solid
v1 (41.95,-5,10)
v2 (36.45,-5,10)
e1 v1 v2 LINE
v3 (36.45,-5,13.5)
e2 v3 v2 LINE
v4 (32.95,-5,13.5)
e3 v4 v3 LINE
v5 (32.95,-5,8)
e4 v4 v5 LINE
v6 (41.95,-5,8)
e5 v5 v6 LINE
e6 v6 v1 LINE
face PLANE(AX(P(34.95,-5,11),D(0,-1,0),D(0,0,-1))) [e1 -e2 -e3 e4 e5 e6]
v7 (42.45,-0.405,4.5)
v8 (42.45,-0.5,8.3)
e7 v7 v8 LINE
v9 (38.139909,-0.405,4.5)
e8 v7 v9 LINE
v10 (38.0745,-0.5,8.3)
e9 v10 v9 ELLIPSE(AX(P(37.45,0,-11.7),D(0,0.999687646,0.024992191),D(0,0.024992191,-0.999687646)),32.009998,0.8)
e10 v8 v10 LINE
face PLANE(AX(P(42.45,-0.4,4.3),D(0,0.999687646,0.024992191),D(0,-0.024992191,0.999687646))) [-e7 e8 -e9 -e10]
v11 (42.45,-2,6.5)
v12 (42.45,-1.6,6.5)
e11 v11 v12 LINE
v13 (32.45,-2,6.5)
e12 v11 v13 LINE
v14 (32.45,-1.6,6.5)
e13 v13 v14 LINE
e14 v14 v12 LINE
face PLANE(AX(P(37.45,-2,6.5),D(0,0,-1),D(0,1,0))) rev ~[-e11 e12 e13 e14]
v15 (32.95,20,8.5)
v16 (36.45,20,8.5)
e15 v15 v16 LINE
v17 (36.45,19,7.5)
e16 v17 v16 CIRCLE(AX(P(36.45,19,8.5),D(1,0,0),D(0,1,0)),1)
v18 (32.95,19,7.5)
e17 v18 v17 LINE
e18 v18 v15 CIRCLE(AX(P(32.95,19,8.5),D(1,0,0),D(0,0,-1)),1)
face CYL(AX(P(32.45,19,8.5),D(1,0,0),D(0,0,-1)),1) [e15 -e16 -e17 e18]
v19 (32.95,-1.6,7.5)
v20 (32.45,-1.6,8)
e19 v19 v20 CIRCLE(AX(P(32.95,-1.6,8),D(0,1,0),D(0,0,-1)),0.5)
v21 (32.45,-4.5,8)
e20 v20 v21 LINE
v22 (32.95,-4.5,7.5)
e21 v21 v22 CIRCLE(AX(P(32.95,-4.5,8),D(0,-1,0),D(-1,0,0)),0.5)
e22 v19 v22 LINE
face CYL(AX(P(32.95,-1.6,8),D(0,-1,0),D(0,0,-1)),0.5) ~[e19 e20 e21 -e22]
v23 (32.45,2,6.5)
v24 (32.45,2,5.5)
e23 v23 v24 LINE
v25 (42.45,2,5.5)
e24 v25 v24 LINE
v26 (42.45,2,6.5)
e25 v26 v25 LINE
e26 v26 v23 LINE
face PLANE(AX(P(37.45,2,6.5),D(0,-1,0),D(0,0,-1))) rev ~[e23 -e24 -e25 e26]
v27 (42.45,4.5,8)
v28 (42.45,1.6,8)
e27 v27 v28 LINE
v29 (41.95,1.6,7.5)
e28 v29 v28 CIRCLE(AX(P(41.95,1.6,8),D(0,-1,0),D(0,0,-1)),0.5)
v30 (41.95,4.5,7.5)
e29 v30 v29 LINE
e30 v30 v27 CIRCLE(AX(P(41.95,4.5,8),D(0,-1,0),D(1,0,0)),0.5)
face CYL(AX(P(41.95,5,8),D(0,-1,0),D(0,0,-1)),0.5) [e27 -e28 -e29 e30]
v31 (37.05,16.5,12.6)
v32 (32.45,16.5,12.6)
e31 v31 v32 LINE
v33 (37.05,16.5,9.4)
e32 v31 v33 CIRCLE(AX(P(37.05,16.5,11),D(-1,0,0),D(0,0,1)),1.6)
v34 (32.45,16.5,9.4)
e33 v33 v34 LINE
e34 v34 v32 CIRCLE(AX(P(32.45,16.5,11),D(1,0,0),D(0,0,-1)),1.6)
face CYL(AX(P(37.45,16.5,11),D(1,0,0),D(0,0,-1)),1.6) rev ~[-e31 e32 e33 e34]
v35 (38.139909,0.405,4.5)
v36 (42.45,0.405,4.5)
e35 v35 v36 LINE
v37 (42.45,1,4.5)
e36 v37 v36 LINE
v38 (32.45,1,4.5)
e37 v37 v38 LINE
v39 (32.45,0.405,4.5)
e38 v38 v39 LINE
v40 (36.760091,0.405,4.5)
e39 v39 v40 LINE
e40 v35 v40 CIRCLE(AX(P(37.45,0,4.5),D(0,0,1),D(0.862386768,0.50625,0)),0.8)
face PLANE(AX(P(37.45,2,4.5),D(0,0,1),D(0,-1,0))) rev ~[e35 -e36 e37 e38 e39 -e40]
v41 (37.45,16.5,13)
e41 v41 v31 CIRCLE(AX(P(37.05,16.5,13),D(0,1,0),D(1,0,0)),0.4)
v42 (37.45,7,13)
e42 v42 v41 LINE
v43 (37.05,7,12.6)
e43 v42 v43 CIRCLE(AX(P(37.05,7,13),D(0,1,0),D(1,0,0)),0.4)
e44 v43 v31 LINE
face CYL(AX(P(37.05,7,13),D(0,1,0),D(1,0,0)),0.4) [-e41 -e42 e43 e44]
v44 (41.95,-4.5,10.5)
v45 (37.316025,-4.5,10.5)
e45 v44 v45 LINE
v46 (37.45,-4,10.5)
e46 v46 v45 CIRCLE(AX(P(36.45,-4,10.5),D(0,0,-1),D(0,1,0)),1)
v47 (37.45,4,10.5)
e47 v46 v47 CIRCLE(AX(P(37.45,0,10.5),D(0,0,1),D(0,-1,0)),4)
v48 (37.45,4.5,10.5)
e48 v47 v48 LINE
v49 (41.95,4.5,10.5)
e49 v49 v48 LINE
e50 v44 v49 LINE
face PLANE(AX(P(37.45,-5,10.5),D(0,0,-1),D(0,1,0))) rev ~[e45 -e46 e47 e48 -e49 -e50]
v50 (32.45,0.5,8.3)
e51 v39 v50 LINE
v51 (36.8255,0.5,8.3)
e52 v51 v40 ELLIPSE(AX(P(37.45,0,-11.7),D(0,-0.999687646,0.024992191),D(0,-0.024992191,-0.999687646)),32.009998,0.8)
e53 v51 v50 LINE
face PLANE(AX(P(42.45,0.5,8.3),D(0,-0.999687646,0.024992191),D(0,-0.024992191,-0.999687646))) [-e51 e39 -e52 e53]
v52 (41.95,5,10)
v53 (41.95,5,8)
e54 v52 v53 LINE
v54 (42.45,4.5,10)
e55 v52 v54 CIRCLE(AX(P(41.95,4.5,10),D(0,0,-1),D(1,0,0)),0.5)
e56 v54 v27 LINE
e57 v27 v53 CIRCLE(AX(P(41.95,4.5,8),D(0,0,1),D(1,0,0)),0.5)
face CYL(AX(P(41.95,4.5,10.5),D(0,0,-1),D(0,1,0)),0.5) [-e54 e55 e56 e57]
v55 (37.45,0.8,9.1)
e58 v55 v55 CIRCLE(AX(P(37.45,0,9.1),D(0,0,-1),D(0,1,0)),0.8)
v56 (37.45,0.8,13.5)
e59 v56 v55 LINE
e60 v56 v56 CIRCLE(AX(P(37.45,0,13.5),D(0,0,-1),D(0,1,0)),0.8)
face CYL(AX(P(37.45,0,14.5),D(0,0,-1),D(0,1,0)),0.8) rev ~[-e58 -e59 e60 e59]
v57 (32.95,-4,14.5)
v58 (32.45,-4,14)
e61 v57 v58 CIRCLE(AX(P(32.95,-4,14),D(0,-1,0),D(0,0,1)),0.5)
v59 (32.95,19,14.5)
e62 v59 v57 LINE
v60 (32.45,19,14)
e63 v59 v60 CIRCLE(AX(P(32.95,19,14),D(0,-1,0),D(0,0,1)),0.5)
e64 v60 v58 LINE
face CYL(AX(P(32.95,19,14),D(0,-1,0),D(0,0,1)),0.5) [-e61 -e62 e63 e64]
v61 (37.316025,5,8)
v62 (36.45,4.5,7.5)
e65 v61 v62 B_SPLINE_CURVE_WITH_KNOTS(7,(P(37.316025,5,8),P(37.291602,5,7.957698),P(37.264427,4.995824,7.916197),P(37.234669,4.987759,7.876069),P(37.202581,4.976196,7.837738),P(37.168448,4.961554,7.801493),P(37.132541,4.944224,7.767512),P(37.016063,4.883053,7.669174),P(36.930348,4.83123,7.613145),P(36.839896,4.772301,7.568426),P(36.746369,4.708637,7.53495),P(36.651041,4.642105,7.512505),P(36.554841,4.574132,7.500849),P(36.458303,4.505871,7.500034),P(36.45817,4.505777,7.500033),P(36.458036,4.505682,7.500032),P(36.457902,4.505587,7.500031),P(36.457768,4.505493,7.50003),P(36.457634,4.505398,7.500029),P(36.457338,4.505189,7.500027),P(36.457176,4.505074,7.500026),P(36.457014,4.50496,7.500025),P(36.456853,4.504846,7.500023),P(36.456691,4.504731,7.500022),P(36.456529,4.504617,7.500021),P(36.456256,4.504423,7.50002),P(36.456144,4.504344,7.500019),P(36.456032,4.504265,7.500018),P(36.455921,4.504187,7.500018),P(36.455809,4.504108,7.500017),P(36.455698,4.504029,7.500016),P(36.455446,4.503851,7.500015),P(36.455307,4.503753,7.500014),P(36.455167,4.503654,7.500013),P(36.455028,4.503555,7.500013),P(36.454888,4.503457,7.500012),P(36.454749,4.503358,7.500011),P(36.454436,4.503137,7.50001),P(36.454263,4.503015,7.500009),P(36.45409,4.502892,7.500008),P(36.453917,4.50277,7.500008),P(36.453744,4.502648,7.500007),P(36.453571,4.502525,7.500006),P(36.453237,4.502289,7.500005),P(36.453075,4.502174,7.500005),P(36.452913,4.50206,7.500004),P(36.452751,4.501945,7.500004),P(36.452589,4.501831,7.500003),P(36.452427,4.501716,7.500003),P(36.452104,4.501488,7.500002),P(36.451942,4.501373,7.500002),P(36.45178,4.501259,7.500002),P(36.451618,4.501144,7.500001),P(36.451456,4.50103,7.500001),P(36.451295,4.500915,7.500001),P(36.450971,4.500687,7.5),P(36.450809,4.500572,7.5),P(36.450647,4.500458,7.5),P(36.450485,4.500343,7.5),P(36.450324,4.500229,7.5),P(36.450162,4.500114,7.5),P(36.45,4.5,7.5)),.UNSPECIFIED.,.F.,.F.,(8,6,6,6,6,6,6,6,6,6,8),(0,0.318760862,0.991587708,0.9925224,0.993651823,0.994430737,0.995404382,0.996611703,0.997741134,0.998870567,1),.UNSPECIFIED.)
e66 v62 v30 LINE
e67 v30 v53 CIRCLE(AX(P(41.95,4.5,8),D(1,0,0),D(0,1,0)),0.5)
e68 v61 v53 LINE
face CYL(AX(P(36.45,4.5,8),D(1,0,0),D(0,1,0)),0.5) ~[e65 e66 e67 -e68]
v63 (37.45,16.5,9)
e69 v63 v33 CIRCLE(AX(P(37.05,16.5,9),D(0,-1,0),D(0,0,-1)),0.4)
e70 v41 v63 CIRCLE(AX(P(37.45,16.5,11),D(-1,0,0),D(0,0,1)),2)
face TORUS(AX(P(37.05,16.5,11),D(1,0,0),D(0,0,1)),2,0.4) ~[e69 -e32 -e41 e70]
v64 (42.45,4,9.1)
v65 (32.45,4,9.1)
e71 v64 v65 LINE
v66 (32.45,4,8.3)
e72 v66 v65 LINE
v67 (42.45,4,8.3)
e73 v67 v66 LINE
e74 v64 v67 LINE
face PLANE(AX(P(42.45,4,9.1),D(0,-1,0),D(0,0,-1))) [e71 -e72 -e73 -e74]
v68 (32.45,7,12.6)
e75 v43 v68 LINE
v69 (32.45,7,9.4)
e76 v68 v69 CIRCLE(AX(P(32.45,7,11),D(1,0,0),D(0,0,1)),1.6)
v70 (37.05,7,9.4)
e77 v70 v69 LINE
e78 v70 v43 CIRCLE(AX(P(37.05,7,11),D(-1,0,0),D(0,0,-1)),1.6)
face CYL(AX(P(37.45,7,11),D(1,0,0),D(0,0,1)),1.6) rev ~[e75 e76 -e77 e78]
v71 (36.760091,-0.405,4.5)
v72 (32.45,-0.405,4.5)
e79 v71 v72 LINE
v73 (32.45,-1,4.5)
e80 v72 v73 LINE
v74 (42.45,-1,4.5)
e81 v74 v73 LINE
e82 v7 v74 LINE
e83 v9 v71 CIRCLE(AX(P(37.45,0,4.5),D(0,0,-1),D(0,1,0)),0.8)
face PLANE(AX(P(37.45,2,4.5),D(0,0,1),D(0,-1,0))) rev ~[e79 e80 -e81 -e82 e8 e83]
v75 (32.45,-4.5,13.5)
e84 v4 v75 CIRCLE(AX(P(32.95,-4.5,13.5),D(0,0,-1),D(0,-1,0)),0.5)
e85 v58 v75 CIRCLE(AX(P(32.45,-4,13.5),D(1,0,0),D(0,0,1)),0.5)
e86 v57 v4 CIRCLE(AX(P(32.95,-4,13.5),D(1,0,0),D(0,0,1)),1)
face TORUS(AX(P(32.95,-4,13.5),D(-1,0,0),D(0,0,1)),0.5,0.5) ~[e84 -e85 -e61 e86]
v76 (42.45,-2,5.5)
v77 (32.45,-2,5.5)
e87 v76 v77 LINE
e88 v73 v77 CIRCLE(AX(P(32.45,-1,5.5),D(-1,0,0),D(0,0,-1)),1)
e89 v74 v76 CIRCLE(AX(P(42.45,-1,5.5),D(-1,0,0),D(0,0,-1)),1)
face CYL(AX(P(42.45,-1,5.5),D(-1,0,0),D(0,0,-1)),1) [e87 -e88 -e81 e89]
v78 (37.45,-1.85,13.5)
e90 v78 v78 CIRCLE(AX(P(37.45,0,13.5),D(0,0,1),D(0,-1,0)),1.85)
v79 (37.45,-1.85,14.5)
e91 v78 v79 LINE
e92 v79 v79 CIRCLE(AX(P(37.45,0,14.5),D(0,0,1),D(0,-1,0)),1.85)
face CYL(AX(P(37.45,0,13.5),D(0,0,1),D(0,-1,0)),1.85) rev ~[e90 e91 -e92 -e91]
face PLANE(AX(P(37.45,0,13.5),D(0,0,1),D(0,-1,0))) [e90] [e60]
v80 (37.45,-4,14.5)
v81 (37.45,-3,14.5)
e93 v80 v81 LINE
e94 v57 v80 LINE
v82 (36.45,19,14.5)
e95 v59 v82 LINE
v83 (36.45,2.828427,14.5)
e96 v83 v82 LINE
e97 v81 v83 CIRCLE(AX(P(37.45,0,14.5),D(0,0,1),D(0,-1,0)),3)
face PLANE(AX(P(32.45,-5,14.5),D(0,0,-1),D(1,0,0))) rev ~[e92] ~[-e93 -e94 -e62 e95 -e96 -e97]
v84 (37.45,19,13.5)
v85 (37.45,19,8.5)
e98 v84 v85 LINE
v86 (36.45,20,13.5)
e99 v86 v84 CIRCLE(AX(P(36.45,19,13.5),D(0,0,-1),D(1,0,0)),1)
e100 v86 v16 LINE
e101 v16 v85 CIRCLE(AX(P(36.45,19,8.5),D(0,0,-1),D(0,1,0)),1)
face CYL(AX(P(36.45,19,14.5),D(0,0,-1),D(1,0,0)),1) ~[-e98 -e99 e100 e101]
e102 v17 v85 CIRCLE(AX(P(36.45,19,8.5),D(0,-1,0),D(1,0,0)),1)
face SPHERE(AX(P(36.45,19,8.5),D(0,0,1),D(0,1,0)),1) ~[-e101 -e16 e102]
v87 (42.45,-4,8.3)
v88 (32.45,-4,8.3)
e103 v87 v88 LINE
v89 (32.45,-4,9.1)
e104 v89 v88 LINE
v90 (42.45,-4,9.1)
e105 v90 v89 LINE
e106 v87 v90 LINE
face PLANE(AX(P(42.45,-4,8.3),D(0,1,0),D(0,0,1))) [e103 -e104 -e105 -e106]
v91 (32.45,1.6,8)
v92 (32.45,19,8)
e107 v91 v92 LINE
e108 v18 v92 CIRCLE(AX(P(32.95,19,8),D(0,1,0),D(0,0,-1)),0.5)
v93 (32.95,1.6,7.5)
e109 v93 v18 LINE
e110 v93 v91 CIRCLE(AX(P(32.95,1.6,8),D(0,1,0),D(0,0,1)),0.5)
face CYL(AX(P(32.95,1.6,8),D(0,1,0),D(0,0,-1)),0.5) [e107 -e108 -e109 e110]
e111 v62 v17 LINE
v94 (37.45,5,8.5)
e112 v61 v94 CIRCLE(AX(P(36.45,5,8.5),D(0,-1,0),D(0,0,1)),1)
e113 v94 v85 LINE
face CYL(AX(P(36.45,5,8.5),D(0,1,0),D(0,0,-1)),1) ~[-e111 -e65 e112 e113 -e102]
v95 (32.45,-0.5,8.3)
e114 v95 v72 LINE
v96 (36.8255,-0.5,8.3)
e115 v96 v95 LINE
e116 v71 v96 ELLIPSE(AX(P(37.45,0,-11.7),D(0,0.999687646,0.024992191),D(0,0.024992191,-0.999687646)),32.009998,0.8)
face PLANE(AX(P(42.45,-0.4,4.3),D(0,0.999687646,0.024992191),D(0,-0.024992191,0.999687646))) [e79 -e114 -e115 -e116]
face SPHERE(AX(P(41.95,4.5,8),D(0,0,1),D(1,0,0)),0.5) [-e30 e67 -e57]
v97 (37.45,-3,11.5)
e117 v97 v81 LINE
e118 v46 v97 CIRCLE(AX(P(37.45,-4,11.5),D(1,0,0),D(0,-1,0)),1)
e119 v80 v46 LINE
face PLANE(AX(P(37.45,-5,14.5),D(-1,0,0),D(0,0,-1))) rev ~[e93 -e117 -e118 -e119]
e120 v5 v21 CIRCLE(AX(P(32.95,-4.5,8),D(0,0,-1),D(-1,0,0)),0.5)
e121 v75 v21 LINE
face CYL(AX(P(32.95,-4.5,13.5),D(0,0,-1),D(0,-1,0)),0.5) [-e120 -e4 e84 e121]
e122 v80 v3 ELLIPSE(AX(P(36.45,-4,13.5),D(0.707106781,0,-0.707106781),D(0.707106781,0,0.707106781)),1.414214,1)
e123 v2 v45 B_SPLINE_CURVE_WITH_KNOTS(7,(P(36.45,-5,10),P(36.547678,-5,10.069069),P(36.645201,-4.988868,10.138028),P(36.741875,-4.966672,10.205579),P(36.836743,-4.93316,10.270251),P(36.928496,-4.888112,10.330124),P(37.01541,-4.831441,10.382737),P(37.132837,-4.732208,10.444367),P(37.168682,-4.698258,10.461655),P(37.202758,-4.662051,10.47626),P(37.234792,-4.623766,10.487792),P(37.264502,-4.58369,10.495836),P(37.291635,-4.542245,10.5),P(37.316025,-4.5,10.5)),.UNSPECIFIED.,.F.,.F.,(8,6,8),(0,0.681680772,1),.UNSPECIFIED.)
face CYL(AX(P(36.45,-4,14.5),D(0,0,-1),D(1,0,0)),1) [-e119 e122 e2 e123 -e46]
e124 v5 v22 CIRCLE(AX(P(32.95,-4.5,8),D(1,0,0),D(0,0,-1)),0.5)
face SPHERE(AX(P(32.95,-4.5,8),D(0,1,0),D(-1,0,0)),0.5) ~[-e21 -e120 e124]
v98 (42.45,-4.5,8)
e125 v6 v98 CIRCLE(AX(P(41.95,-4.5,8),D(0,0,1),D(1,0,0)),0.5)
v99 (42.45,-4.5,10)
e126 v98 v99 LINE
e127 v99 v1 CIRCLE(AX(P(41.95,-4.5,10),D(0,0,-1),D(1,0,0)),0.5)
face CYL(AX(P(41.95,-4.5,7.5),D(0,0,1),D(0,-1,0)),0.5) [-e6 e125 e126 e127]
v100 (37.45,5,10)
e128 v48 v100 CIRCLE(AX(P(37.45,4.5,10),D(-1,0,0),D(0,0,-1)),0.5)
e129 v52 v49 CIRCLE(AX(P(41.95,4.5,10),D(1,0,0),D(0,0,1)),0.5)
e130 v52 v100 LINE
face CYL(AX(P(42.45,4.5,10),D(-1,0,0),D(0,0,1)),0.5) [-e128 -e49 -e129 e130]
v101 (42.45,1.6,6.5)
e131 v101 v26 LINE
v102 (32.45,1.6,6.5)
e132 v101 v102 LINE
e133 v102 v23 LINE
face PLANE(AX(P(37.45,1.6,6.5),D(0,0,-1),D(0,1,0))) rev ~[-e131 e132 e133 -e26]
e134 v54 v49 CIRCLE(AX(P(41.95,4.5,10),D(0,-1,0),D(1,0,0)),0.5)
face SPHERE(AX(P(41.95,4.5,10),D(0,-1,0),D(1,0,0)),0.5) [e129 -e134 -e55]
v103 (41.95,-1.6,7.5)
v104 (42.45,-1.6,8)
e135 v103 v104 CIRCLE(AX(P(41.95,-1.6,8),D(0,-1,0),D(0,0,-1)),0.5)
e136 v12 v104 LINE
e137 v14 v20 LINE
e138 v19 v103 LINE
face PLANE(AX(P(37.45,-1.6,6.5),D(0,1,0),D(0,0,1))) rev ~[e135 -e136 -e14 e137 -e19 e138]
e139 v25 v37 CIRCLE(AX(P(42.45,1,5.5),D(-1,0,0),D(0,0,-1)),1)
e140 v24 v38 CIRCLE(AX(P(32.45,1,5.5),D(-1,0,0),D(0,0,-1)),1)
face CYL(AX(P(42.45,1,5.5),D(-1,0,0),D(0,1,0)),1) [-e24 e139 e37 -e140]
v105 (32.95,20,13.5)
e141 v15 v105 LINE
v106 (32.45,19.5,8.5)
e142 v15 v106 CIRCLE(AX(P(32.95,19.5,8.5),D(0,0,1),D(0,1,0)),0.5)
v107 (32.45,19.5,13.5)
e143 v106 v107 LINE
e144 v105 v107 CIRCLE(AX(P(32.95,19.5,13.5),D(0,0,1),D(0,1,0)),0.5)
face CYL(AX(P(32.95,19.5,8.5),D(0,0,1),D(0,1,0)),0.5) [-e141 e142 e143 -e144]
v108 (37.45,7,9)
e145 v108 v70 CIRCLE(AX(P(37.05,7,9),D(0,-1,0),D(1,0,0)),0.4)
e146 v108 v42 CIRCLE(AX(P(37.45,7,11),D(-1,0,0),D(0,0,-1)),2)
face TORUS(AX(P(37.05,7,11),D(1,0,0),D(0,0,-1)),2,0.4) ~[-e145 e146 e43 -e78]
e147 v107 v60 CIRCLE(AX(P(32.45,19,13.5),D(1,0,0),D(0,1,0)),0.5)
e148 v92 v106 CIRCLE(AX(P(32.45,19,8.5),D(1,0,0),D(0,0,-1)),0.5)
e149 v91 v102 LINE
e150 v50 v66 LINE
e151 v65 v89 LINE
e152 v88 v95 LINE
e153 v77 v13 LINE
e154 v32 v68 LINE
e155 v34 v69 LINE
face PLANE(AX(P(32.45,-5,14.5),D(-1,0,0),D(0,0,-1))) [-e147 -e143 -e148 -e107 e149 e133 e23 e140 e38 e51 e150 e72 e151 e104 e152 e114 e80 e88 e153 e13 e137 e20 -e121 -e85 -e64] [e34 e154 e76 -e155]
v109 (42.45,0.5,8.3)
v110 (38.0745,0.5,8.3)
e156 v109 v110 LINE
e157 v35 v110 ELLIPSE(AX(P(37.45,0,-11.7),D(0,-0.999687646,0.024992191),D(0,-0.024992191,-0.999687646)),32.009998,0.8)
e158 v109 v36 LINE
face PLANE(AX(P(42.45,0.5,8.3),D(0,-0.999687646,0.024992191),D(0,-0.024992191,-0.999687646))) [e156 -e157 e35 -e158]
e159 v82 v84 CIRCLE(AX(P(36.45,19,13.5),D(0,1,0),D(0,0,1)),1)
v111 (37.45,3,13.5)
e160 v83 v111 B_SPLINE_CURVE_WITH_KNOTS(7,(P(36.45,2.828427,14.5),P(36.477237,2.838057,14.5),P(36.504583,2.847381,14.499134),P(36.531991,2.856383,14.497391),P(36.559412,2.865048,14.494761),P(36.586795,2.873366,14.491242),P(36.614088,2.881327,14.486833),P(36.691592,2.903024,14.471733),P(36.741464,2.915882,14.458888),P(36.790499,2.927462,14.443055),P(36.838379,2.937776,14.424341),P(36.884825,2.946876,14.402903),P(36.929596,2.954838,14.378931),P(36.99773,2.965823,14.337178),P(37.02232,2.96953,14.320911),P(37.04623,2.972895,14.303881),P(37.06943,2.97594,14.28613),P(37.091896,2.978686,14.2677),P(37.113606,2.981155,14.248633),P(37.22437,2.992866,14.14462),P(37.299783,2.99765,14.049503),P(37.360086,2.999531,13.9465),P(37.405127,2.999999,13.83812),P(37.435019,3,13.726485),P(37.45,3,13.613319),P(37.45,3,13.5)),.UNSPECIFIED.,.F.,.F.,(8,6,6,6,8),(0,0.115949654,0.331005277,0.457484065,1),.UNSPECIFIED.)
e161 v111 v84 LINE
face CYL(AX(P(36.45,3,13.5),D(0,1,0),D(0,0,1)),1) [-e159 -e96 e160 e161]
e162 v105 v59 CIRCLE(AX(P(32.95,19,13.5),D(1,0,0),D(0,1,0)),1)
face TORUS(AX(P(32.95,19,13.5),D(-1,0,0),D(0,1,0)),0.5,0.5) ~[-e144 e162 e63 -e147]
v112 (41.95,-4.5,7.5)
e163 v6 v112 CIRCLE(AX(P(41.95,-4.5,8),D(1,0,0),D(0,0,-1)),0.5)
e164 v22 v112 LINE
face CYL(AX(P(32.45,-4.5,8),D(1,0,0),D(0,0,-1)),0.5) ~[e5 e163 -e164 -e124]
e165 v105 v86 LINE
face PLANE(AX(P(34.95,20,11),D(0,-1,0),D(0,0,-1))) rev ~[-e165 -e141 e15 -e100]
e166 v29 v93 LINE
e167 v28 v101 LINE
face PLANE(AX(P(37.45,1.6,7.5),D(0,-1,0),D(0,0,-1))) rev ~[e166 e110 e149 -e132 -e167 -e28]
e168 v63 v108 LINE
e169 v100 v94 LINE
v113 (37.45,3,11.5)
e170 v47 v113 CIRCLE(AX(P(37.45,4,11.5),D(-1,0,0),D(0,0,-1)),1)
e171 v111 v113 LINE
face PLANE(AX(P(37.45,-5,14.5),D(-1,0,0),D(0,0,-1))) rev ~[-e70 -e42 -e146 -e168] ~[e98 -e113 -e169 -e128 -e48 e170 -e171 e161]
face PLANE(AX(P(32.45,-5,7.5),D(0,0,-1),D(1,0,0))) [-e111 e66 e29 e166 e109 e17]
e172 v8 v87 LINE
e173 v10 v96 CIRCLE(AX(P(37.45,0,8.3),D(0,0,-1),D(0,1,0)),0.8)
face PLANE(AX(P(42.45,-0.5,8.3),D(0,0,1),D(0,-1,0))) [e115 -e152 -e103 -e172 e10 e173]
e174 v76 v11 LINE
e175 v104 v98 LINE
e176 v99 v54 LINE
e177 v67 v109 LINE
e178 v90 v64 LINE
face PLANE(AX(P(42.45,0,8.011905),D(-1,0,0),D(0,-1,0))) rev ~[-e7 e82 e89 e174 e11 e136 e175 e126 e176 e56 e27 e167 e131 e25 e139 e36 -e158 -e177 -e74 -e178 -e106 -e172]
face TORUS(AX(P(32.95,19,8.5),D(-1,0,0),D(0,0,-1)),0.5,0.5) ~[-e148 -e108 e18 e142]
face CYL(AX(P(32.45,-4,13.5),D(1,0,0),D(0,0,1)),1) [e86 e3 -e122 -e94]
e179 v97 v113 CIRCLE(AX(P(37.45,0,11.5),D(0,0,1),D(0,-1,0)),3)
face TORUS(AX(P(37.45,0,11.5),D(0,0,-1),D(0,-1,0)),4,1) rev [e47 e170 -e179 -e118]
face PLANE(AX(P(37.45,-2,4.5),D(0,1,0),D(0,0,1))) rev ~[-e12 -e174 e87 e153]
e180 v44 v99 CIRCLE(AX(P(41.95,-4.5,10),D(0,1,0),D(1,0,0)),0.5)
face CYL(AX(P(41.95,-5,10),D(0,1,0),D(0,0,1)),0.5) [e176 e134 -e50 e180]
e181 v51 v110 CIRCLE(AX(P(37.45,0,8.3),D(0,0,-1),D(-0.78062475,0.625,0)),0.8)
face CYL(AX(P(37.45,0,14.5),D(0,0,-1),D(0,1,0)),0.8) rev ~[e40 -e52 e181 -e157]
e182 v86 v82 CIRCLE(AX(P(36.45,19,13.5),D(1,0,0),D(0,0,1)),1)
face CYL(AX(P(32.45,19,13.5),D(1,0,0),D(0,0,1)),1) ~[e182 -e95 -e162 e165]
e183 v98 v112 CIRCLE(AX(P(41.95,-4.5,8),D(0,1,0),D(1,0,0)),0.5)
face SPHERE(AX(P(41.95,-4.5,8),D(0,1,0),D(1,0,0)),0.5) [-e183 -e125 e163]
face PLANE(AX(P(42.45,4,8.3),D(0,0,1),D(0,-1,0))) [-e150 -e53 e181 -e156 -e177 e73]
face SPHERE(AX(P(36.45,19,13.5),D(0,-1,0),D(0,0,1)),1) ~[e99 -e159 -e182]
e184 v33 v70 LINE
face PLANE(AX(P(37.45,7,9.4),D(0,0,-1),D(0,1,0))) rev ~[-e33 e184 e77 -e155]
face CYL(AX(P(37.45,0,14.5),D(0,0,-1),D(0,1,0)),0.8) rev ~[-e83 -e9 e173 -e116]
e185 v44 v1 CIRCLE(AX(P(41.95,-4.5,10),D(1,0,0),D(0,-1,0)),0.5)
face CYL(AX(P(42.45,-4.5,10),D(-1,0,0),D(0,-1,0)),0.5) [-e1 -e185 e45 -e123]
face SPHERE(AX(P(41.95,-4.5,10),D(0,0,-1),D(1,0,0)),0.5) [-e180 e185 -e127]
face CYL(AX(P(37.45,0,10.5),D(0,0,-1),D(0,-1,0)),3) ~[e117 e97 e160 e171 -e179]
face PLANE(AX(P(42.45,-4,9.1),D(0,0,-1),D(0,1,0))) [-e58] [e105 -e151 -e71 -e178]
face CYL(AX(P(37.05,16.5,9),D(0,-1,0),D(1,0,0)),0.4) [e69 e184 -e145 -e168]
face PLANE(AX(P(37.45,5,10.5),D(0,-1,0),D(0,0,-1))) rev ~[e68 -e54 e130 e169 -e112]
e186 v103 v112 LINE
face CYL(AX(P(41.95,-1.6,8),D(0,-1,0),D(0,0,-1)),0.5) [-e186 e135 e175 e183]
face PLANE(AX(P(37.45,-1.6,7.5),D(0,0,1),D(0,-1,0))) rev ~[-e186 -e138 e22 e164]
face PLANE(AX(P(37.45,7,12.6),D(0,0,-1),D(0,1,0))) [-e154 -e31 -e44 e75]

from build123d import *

# Parameters (mm, degrees)
PAD020_DEPTH        = 5
SKETCH037_R         = 3
PAD021_DEPTH        = 4
FILLET013_R         = 1
SKETCH038_W         = 7
SKETCH038_H         = 5
PAD022_DEPTH        = 25
HOLE006_D           = 1.6
HOLE006_CBORE_D     = 3.7
HOLE006_CBORE_DEPTH = 1
POCKET016_DEPTH     = 5.001
POCKET017_DEPTH     = 10.001
FILLET014_R         = 1
FILLET015_R         = 0.5
FILLET017_R         = 0.4
FILLET016_R         = 1


with BuildPart() as part:
    # Sketch035 → Pad020 (new body, symmetric)
    with BuildSketch(Plane.YZ):
        Polygon((-5, 7.5), (-5, 10.5), (5, 10.5), (5, 7.5), (1.6, 7.5), (1.6, 6.5), (2, 6.5), (2, 4.5), (-2, 4.5), (-2, 6.5), (-1.6, 6.5), (-1.6, 7.5), align=None)
    extrude(amount=PAD020_DEPTH, both=True)

    # Sketch037 → Pad021 (join)
    with BuildSketch(Plane(origin=(0, 0, 10.5), x_dir=(0, -1, 0), z_dir=(0, 0, 1))):
        Circle(SKETCH037_R)
    extrude(amount=PAD021_DEPTH)

    # Fillet013
    fillet013_edges = [part.edges().sort_by_distance(p)[0] for p in [
        (0, 3, 10.5),
    ]]
    fillet(fillet013_edges, radius=FILLET013_R)

    # Sketch038 (on DatumPlane) → Pad022 (join)
    with BuildSketch(Plane(origin=(0, -5, 0), x_dir=(0, 0, -1), z_dir=(0, -1, 0))):
        with Locations((-11, -2.5)):
            Rectangle(SKETCH038_W, SKETCH038_H)
    extrude(amount=-PAD022_DEPTH)

    # Hole006 (through all)
    with Locations(Plane(origin=(0, 0, 14.5), x_dir=(0, -1, 0), z_dir=(0, 0, 1))):
        with Locations((0, 0)):
            CounterBoreHole(HOLE006_D / 2, HOLE006_CBORE_D / 2, HOLE006_CBORE_DEPTH)

    # Sketch040 (on DatumPlane) → Pocket016 (cut, through all)
    with BuildSketch(Plane.YZ):
        with BuildLine():
            ThreePointArc((16.5, 9.4), (18.1, 11), (16.5, 12.6))
            Line((7, 12.6), (16.5, 12.6))
            ThreePointArc((7, 12.6), (5.4, 11), (7, 9.4))
            Line((7, 9.4), (16.5, 9.4))
        make_face()
    extrude(amount=-POCKET016_DEPTH, mode=Mode.SUBTRACT)

    # Sketch036 → Pocket017 (cut, through all)
    with BuildSketch(Plane.YZ.offset(5)):
        Polygon((0.5, 8.3), (0.4, 4.3), (-0.4, 4.3), (-0.5, 8.3), (-4, 8.3), (-4, 9.1), (4, 9.1), (4, 8.3), align=None)
    extrude(amount=-POCKET017_DEPTH, mode=Mode.SUBTRACT)

    # Fillet014
    fillet014_edges = [part.edges().sort_by_distance(p)[0] for p in [
        (-2.5, -5, 14.5),
        (0, -5, 12.5),
        (0, 11.5, 14.5),
        (-2.5, 20, 14.5),
        (0, 20, 11),
        (-2.5, 20, 7.5),
        (0, 12.5, 7.5),
    ]]
    fillet(fillet014_edges, radius=FILLET014_R)

    # Fillet015
    fillet015_edges = [part.edges().sort_by_distance(p)[0] for p in [
        (-5, -3.3, 7.5),
        (-5, -5, 10.5),
        (-5, 10.3, 7.5),
        (-5, 7.5, 14.5),
        (-5, -4.707107, 14.207107),
        (-5, 19.707107, 7.792893),
        (-5, 20, 11),
        (-5, 19.707107, 14.207107),
        (5, -3.3, 7.5),
        (5, -5, 9),
        (5, 0, 10.5),
        (5, 5, 9),
        (5, 3.3, 7.5),
        (2.5, 5, 7.5),
        (-0.5, 5, 7.5),
        (2.5, -5, 10.5),
        (-0.5, -5, 10.5),
        (0, -5, 7.5),
        (2.5, 5, 10.5),
    ]]
    fillet(fillet015_edges, radius=FILLET015_R)

    # Fillet017
    fillet017_edges = [part.edges().sort_by_distance(p)[0] for p in [
        (0, 11.75, 12.6),
        (0, 5.4, 11),
        (0, 11.75, 9.4),
        (0, 18.1, 11),
    ]]
    fillet(fillet017_edges, radius=FILLET017_R)

    # Fillet016
    fillet016_edges = [part.edges().sort_by_distance(p)[0] for p in [
        (0, 2, 4.5),
        (0, -2, 4.5),
    ]]
    fillet(fillet016_edges, radius=FILLET016_R)


with BuildPart() as part_1:
    # Body005 placement: moved
    add(part.part.moved(Location((37.45, 0, 0))))


solid = part_1.part
